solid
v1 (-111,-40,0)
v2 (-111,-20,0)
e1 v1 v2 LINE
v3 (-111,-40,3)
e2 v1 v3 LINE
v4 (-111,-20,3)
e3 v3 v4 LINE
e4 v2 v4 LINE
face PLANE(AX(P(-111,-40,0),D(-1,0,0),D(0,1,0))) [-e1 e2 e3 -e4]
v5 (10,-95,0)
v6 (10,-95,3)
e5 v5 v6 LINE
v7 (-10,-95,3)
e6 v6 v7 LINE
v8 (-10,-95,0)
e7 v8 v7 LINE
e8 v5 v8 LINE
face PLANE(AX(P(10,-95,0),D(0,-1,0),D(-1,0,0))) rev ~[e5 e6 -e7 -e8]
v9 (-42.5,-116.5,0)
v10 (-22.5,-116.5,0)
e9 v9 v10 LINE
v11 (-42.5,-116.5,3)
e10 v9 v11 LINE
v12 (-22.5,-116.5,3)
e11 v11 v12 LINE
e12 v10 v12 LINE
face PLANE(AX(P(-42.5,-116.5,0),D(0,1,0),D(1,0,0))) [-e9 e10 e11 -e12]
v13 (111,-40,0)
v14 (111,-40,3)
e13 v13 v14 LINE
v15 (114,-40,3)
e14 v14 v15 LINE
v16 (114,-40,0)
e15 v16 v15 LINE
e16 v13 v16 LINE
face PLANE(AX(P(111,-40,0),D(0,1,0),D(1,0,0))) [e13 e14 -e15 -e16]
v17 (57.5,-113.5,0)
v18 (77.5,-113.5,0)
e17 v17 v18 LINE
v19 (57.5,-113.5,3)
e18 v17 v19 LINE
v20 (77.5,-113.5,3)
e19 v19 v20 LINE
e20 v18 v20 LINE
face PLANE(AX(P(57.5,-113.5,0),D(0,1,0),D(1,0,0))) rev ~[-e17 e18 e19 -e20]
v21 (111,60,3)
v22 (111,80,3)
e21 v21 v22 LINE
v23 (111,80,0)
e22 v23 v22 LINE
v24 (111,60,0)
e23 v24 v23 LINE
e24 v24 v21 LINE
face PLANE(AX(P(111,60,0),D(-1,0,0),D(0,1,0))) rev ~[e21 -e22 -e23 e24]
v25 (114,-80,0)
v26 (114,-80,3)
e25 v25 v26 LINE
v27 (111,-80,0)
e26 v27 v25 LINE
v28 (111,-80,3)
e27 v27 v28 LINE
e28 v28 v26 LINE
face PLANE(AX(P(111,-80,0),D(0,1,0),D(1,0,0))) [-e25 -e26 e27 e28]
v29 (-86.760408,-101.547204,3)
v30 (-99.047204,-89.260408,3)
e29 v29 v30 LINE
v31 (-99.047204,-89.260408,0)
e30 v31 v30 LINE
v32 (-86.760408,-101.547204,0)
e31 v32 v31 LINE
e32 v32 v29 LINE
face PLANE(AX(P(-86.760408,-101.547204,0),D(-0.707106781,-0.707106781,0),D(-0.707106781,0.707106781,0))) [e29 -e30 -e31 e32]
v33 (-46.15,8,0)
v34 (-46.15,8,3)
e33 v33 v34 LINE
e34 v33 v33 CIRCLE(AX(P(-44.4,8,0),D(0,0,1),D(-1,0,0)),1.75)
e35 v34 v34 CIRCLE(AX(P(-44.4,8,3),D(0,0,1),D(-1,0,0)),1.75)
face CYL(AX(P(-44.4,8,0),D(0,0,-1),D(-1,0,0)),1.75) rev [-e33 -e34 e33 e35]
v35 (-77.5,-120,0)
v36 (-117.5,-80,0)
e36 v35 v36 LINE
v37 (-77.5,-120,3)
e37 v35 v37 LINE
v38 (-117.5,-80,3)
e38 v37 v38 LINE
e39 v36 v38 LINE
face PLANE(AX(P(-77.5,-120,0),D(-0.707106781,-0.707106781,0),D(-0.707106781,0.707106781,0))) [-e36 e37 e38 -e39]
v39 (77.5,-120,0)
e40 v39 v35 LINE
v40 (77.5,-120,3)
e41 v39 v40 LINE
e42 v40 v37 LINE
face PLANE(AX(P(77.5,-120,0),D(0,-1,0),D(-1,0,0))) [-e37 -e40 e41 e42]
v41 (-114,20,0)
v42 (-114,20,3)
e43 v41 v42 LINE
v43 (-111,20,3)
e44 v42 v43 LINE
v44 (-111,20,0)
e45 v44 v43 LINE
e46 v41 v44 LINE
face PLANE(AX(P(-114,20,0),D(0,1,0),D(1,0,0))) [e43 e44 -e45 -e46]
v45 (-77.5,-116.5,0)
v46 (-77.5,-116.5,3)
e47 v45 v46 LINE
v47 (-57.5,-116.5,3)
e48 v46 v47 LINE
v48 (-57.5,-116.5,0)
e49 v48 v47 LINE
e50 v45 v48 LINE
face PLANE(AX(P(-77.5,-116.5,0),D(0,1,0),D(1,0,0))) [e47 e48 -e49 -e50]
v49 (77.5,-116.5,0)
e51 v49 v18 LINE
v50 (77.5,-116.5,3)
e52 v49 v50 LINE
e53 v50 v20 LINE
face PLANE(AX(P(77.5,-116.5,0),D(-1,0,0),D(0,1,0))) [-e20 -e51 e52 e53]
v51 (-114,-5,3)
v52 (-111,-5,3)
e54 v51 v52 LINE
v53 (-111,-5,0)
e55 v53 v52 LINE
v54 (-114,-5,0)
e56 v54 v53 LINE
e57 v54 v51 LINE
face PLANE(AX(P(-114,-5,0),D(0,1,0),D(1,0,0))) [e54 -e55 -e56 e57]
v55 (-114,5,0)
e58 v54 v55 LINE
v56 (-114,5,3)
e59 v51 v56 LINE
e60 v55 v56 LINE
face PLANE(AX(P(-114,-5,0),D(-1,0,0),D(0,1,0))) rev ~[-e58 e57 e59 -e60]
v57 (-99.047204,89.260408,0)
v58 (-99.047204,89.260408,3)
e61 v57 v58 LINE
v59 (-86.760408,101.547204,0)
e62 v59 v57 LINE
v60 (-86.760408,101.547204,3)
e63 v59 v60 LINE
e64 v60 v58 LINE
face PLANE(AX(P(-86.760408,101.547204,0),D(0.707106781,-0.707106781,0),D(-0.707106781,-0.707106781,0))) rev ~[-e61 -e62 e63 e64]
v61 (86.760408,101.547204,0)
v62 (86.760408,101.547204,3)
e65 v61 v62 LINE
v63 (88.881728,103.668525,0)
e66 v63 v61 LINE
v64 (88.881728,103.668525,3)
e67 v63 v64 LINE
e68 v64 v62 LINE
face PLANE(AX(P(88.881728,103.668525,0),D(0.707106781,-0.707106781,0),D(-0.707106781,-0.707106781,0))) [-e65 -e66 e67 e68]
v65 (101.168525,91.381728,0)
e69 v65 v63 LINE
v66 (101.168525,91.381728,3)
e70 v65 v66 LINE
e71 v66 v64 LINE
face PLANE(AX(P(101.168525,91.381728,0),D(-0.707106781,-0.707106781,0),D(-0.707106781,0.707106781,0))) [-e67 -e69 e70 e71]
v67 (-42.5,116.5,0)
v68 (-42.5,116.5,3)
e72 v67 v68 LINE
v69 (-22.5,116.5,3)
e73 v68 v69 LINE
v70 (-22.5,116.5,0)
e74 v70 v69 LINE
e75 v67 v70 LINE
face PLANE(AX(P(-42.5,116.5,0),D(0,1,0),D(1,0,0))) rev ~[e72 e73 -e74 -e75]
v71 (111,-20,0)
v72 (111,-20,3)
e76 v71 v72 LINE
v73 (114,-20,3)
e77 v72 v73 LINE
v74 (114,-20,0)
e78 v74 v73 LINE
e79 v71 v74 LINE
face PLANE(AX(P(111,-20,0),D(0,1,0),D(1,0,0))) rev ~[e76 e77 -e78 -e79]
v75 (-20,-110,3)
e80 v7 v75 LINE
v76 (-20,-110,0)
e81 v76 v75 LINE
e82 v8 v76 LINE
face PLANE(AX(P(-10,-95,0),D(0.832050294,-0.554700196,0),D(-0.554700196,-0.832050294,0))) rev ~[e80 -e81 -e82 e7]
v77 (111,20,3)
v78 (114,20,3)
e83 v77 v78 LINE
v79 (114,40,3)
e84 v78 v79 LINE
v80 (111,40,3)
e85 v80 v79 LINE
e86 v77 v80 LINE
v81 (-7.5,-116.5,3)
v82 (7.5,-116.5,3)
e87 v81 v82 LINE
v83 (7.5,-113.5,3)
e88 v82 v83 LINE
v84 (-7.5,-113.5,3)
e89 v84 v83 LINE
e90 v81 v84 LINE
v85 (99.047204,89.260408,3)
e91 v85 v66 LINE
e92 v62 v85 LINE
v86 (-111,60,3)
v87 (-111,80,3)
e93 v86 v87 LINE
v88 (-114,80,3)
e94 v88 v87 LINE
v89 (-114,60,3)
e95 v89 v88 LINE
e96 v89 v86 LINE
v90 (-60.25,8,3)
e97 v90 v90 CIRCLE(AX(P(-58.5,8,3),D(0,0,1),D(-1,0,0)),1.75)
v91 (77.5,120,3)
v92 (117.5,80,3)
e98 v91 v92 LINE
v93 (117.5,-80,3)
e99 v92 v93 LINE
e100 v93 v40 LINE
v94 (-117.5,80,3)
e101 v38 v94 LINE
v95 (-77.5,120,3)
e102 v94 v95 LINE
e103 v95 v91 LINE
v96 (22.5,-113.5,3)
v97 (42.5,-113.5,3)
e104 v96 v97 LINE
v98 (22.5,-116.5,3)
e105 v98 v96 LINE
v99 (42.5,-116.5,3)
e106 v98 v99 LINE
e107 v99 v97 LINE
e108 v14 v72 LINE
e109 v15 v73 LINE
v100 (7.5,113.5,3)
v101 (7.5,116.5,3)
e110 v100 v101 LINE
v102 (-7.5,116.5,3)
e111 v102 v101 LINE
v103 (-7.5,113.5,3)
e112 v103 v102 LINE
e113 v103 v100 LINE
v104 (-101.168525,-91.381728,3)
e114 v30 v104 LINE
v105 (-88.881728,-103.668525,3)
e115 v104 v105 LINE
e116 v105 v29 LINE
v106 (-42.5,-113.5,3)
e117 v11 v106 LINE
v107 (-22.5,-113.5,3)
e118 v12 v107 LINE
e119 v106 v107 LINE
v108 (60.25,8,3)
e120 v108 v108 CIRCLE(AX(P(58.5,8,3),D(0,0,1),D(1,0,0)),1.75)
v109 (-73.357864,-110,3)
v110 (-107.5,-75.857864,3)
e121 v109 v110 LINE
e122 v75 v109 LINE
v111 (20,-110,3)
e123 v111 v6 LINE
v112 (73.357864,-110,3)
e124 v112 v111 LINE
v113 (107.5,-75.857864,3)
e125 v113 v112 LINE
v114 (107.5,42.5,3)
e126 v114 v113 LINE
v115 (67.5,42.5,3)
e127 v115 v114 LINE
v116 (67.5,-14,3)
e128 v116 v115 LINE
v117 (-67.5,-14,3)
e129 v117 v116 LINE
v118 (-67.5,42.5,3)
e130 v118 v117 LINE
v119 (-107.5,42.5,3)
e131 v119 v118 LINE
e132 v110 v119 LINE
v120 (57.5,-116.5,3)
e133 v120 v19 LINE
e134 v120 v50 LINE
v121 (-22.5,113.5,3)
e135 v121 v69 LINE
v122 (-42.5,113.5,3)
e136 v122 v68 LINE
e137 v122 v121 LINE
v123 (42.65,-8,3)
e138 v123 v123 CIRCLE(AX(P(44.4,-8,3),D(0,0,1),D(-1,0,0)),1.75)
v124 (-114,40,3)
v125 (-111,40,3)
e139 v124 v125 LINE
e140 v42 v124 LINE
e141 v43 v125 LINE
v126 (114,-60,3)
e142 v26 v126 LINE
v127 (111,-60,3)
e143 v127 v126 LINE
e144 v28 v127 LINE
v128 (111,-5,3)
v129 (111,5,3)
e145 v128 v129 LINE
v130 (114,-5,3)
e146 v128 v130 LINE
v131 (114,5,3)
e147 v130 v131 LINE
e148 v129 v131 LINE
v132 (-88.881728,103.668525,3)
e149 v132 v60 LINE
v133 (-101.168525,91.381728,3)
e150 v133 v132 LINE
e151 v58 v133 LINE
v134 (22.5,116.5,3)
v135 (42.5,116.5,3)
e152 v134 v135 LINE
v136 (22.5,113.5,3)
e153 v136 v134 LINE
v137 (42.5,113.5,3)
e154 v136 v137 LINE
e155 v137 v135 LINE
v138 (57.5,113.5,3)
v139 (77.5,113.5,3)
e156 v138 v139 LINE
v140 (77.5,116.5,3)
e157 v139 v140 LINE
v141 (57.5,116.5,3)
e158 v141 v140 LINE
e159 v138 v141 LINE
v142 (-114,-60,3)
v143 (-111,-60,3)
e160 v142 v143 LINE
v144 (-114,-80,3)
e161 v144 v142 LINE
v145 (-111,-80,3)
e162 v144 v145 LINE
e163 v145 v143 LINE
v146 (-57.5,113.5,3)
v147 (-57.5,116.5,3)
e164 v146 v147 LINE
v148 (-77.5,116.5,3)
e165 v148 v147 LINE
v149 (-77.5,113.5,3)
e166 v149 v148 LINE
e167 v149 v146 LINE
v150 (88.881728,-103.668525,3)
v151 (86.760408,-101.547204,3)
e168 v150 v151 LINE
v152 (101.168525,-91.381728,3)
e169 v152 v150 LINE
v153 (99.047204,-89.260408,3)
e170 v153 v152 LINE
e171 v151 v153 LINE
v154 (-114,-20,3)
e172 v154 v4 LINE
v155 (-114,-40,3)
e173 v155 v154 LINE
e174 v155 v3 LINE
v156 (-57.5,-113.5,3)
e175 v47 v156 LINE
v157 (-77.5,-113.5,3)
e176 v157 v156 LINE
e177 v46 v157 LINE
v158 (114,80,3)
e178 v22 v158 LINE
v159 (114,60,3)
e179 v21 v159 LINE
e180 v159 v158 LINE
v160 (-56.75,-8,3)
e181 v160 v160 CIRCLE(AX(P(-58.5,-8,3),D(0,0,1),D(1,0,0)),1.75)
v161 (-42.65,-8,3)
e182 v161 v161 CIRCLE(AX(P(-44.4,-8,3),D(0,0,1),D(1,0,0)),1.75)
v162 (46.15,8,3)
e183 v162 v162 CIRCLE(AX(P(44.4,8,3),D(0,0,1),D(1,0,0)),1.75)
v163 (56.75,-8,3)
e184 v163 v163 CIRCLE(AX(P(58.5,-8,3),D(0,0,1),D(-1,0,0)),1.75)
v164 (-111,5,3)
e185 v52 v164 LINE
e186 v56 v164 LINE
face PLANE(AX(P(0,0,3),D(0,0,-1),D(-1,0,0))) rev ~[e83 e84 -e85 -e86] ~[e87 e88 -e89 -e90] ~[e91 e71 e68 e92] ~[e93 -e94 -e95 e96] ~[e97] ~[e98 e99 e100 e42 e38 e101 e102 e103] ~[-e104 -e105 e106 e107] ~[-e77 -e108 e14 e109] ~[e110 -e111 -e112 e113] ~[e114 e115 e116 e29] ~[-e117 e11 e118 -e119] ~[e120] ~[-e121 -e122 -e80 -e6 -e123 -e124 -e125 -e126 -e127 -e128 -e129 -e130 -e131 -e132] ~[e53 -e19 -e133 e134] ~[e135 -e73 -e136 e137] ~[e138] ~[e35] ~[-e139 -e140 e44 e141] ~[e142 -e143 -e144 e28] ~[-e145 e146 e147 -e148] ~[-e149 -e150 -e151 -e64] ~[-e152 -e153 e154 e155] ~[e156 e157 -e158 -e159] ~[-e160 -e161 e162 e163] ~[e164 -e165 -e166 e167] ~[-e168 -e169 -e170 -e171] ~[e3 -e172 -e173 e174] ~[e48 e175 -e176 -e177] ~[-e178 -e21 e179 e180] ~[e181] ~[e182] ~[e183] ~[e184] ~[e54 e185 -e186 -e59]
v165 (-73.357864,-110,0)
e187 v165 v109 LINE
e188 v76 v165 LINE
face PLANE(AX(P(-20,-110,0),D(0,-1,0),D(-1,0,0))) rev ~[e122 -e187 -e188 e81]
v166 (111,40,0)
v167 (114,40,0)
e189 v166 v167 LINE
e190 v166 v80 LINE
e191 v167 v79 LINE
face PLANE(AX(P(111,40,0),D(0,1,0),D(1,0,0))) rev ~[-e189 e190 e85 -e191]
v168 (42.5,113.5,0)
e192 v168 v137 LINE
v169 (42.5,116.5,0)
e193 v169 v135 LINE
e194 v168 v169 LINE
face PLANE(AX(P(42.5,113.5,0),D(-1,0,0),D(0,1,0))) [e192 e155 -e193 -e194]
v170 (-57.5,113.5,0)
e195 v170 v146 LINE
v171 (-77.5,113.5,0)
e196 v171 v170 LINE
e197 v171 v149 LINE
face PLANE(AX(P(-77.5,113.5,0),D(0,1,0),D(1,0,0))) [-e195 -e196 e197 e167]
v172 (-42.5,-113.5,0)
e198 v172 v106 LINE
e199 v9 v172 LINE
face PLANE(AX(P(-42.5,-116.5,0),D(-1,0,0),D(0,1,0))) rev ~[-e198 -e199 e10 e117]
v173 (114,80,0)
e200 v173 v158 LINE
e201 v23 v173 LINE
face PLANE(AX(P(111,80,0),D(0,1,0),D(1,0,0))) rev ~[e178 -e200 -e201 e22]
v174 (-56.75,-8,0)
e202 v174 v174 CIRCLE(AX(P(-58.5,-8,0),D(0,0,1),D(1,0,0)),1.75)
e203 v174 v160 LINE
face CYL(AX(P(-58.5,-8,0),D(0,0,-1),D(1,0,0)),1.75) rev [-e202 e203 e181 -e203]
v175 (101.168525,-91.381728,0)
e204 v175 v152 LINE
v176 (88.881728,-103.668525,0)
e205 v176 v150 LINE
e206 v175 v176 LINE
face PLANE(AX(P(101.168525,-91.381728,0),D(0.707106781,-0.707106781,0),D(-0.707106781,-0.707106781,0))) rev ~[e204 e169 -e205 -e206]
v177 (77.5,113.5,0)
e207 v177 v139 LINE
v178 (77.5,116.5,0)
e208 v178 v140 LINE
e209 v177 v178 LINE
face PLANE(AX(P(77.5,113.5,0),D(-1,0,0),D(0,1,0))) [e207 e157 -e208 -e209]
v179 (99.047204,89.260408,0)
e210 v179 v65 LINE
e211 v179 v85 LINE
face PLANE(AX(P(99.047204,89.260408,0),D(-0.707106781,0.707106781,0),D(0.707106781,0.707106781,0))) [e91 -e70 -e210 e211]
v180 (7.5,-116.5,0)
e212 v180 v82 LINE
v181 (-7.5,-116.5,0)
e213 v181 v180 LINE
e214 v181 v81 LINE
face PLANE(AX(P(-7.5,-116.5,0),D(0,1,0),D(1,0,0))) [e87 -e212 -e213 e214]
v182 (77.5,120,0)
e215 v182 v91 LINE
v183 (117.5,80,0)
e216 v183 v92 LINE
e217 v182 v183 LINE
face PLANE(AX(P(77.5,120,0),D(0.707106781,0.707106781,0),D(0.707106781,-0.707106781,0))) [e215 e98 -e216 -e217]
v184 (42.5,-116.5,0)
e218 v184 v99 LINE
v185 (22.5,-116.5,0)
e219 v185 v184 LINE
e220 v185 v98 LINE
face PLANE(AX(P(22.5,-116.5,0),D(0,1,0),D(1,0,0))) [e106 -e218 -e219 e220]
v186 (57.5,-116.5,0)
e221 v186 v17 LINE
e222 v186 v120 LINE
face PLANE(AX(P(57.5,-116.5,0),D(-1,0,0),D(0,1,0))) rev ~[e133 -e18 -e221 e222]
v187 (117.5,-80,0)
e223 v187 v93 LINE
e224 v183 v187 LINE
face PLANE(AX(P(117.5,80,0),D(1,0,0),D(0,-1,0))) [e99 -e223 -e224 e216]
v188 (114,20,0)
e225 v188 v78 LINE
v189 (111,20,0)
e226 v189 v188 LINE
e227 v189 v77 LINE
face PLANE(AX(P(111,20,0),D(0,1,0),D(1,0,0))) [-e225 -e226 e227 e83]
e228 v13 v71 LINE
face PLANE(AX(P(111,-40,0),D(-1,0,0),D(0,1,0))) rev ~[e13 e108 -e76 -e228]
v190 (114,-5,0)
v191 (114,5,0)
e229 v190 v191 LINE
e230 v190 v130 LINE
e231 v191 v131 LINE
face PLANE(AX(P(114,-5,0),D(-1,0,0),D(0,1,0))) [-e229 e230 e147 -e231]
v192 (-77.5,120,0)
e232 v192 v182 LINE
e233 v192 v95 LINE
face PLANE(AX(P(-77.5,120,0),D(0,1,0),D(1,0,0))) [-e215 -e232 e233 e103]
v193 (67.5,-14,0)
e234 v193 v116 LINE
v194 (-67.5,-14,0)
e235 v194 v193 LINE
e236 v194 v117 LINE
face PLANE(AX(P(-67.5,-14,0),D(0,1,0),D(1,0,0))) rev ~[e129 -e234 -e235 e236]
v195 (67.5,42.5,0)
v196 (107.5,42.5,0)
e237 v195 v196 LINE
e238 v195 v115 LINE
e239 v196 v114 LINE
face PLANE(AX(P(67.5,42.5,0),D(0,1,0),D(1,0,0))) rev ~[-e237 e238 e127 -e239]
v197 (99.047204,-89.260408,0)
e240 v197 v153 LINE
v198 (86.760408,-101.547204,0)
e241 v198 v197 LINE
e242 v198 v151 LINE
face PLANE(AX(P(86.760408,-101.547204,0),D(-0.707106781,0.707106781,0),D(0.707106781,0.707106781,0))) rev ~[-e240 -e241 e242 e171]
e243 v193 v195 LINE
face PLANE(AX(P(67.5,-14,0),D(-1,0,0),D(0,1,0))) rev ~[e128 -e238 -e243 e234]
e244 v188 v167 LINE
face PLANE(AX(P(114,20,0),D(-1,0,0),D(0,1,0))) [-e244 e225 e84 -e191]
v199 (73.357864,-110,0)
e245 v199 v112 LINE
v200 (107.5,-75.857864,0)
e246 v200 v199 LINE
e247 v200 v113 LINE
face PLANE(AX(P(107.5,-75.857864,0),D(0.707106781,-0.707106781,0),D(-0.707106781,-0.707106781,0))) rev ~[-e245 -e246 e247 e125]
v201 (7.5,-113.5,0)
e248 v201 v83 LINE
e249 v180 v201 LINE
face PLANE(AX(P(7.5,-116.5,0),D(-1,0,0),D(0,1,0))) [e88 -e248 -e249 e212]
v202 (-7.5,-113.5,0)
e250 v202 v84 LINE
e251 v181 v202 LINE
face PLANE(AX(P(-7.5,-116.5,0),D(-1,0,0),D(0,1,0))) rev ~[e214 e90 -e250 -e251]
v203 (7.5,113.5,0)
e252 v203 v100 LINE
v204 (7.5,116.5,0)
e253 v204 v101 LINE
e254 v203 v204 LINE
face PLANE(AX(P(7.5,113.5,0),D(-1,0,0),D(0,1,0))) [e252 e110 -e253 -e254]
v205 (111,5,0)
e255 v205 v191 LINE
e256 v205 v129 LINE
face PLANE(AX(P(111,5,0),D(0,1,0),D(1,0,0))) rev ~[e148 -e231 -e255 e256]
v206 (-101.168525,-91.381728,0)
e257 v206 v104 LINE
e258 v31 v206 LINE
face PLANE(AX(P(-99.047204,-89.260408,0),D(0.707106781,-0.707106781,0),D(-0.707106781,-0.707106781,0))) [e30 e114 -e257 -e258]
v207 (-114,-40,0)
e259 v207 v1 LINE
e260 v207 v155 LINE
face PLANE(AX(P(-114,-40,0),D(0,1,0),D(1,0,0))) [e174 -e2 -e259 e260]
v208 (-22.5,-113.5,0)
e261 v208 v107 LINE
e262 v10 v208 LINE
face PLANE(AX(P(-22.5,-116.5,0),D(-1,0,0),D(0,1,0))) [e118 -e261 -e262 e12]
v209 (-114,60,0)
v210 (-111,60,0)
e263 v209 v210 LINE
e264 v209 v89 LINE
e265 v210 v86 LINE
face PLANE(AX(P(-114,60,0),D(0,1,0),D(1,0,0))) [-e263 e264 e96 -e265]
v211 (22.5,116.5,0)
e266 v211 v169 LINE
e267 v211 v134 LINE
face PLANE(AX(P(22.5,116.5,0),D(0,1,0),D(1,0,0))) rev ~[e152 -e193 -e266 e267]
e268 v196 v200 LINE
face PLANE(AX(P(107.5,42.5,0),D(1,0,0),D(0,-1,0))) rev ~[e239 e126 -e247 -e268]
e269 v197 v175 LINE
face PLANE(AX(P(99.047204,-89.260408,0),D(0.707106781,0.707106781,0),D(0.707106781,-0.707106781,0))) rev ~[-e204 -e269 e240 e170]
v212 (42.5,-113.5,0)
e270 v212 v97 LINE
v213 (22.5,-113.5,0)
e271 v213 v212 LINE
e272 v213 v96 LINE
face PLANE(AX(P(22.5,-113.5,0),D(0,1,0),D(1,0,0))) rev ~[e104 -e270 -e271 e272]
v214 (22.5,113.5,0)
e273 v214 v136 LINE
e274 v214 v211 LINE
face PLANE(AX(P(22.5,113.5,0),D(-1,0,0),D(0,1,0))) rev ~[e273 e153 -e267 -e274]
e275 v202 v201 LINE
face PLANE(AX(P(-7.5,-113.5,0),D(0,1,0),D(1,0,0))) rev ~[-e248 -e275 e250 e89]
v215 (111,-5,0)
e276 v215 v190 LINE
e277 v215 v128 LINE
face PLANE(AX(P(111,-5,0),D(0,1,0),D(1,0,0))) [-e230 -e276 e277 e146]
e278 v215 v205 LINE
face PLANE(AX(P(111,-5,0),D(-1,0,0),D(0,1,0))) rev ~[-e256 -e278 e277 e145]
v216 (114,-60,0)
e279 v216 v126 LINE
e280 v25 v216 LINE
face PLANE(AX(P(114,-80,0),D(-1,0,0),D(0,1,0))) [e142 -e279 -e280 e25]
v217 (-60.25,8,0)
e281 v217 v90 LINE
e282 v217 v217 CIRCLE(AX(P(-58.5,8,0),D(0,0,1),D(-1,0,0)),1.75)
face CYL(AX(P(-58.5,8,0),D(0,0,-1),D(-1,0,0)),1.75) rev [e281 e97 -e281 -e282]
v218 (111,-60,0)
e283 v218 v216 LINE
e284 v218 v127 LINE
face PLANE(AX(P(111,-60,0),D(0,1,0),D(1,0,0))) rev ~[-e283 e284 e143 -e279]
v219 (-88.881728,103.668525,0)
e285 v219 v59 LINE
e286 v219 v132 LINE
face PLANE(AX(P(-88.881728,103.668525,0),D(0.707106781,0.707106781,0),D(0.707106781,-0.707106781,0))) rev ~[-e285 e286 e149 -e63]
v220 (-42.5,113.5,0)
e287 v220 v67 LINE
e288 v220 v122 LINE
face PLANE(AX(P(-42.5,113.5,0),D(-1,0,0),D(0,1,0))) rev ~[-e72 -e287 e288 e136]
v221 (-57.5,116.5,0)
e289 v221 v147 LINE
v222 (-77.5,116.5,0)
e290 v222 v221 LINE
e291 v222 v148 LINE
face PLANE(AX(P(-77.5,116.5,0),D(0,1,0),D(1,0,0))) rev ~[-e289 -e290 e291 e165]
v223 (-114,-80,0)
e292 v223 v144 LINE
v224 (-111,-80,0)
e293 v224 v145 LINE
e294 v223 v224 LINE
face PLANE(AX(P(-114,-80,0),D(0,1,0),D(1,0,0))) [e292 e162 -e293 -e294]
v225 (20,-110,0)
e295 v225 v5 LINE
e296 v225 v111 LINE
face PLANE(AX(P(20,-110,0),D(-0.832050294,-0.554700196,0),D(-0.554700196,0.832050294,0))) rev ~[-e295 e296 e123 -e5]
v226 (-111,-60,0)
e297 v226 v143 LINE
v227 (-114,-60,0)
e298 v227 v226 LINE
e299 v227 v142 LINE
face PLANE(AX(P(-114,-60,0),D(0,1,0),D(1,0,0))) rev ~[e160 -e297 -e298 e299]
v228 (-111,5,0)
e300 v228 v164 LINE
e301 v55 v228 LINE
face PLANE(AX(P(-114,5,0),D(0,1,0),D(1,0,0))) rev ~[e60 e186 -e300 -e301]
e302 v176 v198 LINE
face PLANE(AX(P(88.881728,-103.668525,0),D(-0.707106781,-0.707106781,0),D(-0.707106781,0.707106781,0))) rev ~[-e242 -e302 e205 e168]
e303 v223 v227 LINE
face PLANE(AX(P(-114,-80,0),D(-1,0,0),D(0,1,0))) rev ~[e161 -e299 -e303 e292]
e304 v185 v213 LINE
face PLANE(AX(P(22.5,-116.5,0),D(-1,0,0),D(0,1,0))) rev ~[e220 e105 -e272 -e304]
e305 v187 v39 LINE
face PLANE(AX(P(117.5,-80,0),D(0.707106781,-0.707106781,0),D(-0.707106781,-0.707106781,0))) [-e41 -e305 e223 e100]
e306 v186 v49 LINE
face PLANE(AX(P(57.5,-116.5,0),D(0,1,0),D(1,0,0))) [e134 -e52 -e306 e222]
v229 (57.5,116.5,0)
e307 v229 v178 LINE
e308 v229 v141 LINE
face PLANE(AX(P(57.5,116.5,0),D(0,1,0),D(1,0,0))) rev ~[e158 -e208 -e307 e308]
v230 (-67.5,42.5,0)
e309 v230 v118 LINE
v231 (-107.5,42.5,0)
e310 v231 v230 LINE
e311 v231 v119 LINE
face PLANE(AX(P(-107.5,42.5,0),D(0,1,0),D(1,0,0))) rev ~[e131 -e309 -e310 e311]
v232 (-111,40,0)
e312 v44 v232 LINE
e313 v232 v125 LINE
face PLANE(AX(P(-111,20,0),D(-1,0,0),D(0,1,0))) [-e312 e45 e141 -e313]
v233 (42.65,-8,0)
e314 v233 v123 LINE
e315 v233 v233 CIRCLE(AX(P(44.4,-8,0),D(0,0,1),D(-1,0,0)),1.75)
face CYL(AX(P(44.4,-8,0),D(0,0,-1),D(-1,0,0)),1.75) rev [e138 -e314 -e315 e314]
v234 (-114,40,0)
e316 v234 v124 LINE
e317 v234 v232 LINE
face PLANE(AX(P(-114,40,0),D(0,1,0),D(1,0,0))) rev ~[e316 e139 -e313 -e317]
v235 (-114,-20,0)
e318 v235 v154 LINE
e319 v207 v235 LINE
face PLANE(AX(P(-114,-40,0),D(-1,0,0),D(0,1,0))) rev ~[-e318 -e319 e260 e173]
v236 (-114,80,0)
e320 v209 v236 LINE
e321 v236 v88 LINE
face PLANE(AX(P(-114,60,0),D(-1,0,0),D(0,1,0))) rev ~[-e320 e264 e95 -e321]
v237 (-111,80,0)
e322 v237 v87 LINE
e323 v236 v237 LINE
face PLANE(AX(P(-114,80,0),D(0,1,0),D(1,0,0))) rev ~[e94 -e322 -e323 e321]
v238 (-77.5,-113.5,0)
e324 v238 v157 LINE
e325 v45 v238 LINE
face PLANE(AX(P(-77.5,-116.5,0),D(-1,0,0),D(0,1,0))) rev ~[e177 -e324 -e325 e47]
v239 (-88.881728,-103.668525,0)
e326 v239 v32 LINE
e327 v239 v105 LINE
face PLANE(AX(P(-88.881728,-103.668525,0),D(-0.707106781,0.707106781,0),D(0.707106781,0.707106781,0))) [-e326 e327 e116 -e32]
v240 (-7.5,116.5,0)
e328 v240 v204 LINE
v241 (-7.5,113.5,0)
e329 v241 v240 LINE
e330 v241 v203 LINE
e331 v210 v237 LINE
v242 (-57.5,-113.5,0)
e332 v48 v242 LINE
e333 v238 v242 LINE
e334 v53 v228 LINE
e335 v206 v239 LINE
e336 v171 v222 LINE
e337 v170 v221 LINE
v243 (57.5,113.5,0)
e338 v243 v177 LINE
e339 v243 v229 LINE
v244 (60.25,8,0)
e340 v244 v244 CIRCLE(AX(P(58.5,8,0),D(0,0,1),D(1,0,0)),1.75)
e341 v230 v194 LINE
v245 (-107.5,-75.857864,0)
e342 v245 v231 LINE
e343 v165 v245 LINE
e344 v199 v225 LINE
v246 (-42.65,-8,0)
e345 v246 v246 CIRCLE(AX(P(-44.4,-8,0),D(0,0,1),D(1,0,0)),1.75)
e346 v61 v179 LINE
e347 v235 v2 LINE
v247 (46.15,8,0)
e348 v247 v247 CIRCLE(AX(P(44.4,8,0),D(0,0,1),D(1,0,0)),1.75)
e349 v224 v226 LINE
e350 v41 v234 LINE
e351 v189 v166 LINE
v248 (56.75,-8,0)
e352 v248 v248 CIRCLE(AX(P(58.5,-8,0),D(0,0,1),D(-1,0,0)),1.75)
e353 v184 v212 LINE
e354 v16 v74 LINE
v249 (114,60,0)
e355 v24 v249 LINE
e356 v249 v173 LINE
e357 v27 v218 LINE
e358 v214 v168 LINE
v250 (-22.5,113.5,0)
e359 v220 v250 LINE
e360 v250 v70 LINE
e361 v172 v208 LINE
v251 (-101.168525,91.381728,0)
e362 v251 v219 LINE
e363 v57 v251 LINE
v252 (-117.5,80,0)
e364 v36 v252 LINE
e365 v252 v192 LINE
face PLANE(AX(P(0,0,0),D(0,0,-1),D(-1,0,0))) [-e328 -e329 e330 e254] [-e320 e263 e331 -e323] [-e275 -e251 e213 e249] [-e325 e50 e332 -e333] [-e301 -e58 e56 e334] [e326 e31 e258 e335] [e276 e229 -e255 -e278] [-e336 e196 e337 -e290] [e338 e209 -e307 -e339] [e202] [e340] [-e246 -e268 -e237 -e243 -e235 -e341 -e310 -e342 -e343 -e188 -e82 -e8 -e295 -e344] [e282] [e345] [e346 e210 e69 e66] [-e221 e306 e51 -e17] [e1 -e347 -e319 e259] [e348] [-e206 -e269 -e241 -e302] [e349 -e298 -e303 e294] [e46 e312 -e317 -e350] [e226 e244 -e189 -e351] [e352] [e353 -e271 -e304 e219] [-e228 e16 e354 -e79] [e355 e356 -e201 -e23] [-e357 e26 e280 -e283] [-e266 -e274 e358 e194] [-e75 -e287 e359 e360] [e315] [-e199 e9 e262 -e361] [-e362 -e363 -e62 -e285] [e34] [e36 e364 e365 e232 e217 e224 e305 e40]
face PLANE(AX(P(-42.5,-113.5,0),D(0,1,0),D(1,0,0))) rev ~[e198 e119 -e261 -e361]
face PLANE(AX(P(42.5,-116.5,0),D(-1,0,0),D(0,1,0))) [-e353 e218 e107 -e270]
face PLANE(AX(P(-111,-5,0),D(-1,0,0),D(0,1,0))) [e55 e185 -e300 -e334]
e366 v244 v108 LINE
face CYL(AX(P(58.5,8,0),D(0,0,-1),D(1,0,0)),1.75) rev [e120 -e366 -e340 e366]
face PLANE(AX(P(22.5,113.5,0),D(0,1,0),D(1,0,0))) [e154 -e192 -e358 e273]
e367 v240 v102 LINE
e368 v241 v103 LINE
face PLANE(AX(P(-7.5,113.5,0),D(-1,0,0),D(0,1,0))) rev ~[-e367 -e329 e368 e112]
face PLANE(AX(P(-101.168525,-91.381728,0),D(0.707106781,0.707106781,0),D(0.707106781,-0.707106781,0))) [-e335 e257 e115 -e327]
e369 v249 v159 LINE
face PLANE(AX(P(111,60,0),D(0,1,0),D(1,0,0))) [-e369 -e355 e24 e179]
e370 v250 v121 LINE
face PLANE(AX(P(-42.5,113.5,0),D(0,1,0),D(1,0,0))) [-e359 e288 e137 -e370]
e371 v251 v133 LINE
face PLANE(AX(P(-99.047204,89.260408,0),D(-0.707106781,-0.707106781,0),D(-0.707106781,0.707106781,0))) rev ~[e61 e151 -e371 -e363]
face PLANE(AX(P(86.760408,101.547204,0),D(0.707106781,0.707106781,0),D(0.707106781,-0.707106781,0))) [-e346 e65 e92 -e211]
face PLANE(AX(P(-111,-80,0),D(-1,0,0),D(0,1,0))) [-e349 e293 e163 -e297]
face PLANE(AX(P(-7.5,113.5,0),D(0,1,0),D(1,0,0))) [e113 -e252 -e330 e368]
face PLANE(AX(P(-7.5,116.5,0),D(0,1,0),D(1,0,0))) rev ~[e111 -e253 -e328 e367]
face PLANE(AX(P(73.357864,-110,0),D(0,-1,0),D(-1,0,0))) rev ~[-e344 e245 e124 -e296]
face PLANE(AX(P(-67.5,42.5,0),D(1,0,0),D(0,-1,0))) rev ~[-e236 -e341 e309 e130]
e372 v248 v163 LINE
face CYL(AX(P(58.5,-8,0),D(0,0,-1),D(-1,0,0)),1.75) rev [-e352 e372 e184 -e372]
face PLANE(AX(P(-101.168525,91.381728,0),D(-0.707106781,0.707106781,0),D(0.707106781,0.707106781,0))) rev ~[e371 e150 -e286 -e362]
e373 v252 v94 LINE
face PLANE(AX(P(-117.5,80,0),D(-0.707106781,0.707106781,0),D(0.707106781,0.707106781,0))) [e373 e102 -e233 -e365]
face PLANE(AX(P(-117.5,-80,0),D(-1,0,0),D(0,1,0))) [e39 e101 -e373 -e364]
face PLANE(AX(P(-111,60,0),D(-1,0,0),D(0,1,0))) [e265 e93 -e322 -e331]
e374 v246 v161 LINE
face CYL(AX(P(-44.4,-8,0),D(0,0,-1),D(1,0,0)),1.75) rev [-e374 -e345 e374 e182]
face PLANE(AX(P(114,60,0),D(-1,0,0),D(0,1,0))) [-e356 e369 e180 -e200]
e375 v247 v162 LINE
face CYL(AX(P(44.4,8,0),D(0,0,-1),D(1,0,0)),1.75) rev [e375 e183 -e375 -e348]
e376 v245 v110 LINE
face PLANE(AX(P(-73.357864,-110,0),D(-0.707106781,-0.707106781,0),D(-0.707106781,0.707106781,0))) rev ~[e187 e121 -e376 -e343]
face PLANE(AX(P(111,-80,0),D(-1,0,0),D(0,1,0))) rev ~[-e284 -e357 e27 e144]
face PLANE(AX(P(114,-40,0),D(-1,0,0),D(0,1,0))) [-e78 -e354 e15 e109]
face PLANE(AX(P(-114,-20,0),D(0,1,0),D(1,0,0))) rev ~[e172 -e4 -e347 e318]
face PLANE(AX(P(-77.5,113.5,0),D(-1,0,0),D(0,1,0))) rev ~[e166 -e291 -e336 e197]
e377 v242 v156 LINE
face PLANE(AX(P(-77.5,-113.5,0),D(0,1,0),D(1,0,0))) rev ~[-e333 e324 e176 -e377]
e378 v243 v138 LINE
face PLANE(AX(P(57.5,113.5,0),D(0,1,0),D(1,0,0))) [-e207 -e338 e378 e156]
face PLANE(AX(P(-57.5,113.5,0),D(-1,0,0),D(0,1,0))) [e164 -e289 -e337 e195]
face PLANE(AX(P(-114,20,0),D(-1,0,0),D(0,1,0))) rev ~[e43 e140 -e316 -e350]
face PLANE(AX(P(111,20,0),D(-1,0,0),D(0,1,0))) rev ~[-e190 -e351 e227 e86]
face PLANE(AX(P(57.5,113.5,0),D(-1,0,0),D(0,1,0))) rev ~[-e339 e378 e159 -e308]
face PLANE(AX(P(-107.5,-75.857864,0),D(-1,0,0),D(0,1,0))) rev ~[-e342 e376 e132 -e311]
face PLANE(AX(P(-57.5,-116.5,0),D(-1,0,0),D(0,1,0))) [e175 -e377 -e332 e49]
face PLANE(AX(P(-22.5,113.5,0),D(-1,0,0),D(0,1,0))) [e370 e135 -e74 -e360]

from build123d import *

# Parameters (mm, degrees)
SKICA2_R                = 1.75
SKICA2_W                = 3
SKICA2_H                = 20
SKICA2_H_2              = 10
SKICA2_W_2              = 20
SKICA2_H_3              = 3
SKICA2_W_3              = 15
P_IDAT_VYSUNUT_M1_DEPTH = 3


with BuildPart() as part:
    # Skica2 → Přidat vysunutím1 (new body)
    with BuildSketch(Plane.XY):
        Polygon((-117.5, 80), (-77.5, 120), (77.5, 120), (117.5, 80), (117.5, -80), (77.5, -120), (-77.5, -120), (-117.5, -80), align=None)
        with Locations((58.5, 8)):
            Circle(SKICA2_R, mode=Mode.SUBTRACT)
        with Locations((44.4, 8)):
            Circle(SKICA2_R, mode=Mode.SUBTRACT)
        with Locations(Location((44.4, -8, 0), (0, 0, 180))):
            Circle(SKICA2_R, mode=Mode.SUBTRACT)
        with Locations(Location((58.5, -8, 0), (0, 0, 180))):
            Circle(SKICA2_R, mode=Mode.SUBTRACT)
        with Locations((-44.4, -8)):
            Circle(SKICA2_R, mode=Mode.SUBTRACT)
        with Locations((-58.5, -8)):
            Circle(SKICA2_R, mode=Mode.SUBTRACT)
        with Locations(Location((-58.5, 8, 0), (0, 0, 180))):
            Circle(SKICA2_R, mode=Mode.SUBTRACT)
        with Locations(Location((-44.4, 8, 0), (0, 0, 180))):
            Circle(SKICA2_R, mode=Mode.SUBTRACT)
        Polygon((-107.5, -42.5), (-107.5, 42.5), (-67.5, 42.5), (-67.5, -14), (67.5, -14), (67.5, 42.5), (107.5, 42.5), (107.5, -42.5), (107.5, -75.857864376), (73.357864376, -110), (20, -110), (10, -95), (-10, -95), (-20, -110), (-73.357864376, -110), (-107.5, -75.857864376), align=None, mode=Mode.SUBTRACT)
        with Locations((-112.5, 70)):
            Rectangle(SKICA2_W, SKICA2_H, mode=Mode.SUBTRACT)
        with Locations((-112.5, 30)):
            Rectangle(SKICA2_W, SKICA2_H, mode=Mode.SUBTRACT)
        with Locations((-112.5, 0)):
            Rectangle(SKICA2_W, SKICA2_H_2, mode=Mode.SUBTRACT)
        with Locations((-112.5, -30)):
            Rectangle(SKICA2_W, SKICA2_H, mode=Mode.SUBTRACT)
        with Locations((-112.5, -70)):
            Rectangle(SKICA2_W, SKICA2_H, mode=Mode.SUBTRACT)
        with Locations((112.5, -70)):
            Rectangle(SKICA2_W, SKICA2_H, mode=Mode.SUBTRACT)
        with Locations((112.5, -30)):
            Rectangle(SKICA2_W, SKICA2_H, mode=Mode.SUBTRACT)
        with Locations((112.5, 0)):
            Rectangle(SKICA2_W, SKICA2_H_2, mode=Mode.SUBTRACT)
        with Locations((112.5, 30)):
            Rectangle(SKICA2_W, SKICA2_H, mode=Mode.SUBTRACT)
        with Locations((112.5, 70)):
            Rectangle(SKICA2_W, SKICA2_H, mode=Mode.SUBTRACT)
        with Locations((-67.5, 115)):
            Rectangle(SKICA2_W_2, SKICA2_H_3, mode=Mode.SUBTRACT)
        with Locations((-32.5, 115)):
            Rectangle(SKICA2_W_2, SKICA2_H_3, mode=Mode.SUBTRACT)
        with Locations((0, 115)):
            Rectangle(SKICA2_W_3, SKICA2_H_3, mode=Mode.SUBTRACT)
        with Locations((32.5, 115)):
            Rectangle(SKICA2_W_2, SKICA2_H_3, mode=Mode.SUBTRACT)
        with Locations((67.5, 115)):
            Rectangle(SKICA2_W_2, SKICA2_H_3, mode=Mode.SUBTRACT)
        with Locations((67.5, -115)):
            Rectangle(SKICA2_W_2, SKICA2_H_3, mode=Mode.SUBTRACT)
        with Locations((32.5, -115)):
            Rectangle(SKICA2_W_2, SKICA2_H_3, mode=Mode.SUBTRACT)
        with Locations((0, -115)):
            Rectangle(SKICA2_W_3, SKICA2_H_3, mode=Mode.SUBTRACT)
        with Locations((-32.5, -115)):
            Rectangle(SKICA2_W_2, SKICA2_H_3, mode=Mode.SUBTRACT)
        with Locations((-67.5, -115)):
            Rectangle(SKICA2_W_2, SKICA2_H_3, mode=Mode.SUBTRACT)
        Polygon((101.168524548, -91.381727984), (88.881727984, -103.668524548), (86.76040764, -101.547204204), (99.047204204, -89.26040764), align=None, mode=Mode.SUBTRACT)
        Polygon((-86.76040764, -101.547204204), (-99.047204204, -89.26040764), (-101.168524548, -91.381727984), (-88.881727984, -103.668524548), align=None, mode=Mode.SUBTRACT)
        Polygon((86.76040764, 101.547204204), (99.047204204, 89.26040764), (101.168524548, 91.381727984), (88.881727984, 103.668524548), align=None, mode=Mode.SUBTRACT)
        Polygon((-88.881727984, 103.668524548), (-86.76040764, 101.547204204), (-99.047204204, 89.26040764), (-101.168524548, 91.381727984), align=None, mode=Mode.SUBTRACT)
    extrude(amount=P_IDAT_VYSUNUT_M1_DEPTH)


solid = part.part
